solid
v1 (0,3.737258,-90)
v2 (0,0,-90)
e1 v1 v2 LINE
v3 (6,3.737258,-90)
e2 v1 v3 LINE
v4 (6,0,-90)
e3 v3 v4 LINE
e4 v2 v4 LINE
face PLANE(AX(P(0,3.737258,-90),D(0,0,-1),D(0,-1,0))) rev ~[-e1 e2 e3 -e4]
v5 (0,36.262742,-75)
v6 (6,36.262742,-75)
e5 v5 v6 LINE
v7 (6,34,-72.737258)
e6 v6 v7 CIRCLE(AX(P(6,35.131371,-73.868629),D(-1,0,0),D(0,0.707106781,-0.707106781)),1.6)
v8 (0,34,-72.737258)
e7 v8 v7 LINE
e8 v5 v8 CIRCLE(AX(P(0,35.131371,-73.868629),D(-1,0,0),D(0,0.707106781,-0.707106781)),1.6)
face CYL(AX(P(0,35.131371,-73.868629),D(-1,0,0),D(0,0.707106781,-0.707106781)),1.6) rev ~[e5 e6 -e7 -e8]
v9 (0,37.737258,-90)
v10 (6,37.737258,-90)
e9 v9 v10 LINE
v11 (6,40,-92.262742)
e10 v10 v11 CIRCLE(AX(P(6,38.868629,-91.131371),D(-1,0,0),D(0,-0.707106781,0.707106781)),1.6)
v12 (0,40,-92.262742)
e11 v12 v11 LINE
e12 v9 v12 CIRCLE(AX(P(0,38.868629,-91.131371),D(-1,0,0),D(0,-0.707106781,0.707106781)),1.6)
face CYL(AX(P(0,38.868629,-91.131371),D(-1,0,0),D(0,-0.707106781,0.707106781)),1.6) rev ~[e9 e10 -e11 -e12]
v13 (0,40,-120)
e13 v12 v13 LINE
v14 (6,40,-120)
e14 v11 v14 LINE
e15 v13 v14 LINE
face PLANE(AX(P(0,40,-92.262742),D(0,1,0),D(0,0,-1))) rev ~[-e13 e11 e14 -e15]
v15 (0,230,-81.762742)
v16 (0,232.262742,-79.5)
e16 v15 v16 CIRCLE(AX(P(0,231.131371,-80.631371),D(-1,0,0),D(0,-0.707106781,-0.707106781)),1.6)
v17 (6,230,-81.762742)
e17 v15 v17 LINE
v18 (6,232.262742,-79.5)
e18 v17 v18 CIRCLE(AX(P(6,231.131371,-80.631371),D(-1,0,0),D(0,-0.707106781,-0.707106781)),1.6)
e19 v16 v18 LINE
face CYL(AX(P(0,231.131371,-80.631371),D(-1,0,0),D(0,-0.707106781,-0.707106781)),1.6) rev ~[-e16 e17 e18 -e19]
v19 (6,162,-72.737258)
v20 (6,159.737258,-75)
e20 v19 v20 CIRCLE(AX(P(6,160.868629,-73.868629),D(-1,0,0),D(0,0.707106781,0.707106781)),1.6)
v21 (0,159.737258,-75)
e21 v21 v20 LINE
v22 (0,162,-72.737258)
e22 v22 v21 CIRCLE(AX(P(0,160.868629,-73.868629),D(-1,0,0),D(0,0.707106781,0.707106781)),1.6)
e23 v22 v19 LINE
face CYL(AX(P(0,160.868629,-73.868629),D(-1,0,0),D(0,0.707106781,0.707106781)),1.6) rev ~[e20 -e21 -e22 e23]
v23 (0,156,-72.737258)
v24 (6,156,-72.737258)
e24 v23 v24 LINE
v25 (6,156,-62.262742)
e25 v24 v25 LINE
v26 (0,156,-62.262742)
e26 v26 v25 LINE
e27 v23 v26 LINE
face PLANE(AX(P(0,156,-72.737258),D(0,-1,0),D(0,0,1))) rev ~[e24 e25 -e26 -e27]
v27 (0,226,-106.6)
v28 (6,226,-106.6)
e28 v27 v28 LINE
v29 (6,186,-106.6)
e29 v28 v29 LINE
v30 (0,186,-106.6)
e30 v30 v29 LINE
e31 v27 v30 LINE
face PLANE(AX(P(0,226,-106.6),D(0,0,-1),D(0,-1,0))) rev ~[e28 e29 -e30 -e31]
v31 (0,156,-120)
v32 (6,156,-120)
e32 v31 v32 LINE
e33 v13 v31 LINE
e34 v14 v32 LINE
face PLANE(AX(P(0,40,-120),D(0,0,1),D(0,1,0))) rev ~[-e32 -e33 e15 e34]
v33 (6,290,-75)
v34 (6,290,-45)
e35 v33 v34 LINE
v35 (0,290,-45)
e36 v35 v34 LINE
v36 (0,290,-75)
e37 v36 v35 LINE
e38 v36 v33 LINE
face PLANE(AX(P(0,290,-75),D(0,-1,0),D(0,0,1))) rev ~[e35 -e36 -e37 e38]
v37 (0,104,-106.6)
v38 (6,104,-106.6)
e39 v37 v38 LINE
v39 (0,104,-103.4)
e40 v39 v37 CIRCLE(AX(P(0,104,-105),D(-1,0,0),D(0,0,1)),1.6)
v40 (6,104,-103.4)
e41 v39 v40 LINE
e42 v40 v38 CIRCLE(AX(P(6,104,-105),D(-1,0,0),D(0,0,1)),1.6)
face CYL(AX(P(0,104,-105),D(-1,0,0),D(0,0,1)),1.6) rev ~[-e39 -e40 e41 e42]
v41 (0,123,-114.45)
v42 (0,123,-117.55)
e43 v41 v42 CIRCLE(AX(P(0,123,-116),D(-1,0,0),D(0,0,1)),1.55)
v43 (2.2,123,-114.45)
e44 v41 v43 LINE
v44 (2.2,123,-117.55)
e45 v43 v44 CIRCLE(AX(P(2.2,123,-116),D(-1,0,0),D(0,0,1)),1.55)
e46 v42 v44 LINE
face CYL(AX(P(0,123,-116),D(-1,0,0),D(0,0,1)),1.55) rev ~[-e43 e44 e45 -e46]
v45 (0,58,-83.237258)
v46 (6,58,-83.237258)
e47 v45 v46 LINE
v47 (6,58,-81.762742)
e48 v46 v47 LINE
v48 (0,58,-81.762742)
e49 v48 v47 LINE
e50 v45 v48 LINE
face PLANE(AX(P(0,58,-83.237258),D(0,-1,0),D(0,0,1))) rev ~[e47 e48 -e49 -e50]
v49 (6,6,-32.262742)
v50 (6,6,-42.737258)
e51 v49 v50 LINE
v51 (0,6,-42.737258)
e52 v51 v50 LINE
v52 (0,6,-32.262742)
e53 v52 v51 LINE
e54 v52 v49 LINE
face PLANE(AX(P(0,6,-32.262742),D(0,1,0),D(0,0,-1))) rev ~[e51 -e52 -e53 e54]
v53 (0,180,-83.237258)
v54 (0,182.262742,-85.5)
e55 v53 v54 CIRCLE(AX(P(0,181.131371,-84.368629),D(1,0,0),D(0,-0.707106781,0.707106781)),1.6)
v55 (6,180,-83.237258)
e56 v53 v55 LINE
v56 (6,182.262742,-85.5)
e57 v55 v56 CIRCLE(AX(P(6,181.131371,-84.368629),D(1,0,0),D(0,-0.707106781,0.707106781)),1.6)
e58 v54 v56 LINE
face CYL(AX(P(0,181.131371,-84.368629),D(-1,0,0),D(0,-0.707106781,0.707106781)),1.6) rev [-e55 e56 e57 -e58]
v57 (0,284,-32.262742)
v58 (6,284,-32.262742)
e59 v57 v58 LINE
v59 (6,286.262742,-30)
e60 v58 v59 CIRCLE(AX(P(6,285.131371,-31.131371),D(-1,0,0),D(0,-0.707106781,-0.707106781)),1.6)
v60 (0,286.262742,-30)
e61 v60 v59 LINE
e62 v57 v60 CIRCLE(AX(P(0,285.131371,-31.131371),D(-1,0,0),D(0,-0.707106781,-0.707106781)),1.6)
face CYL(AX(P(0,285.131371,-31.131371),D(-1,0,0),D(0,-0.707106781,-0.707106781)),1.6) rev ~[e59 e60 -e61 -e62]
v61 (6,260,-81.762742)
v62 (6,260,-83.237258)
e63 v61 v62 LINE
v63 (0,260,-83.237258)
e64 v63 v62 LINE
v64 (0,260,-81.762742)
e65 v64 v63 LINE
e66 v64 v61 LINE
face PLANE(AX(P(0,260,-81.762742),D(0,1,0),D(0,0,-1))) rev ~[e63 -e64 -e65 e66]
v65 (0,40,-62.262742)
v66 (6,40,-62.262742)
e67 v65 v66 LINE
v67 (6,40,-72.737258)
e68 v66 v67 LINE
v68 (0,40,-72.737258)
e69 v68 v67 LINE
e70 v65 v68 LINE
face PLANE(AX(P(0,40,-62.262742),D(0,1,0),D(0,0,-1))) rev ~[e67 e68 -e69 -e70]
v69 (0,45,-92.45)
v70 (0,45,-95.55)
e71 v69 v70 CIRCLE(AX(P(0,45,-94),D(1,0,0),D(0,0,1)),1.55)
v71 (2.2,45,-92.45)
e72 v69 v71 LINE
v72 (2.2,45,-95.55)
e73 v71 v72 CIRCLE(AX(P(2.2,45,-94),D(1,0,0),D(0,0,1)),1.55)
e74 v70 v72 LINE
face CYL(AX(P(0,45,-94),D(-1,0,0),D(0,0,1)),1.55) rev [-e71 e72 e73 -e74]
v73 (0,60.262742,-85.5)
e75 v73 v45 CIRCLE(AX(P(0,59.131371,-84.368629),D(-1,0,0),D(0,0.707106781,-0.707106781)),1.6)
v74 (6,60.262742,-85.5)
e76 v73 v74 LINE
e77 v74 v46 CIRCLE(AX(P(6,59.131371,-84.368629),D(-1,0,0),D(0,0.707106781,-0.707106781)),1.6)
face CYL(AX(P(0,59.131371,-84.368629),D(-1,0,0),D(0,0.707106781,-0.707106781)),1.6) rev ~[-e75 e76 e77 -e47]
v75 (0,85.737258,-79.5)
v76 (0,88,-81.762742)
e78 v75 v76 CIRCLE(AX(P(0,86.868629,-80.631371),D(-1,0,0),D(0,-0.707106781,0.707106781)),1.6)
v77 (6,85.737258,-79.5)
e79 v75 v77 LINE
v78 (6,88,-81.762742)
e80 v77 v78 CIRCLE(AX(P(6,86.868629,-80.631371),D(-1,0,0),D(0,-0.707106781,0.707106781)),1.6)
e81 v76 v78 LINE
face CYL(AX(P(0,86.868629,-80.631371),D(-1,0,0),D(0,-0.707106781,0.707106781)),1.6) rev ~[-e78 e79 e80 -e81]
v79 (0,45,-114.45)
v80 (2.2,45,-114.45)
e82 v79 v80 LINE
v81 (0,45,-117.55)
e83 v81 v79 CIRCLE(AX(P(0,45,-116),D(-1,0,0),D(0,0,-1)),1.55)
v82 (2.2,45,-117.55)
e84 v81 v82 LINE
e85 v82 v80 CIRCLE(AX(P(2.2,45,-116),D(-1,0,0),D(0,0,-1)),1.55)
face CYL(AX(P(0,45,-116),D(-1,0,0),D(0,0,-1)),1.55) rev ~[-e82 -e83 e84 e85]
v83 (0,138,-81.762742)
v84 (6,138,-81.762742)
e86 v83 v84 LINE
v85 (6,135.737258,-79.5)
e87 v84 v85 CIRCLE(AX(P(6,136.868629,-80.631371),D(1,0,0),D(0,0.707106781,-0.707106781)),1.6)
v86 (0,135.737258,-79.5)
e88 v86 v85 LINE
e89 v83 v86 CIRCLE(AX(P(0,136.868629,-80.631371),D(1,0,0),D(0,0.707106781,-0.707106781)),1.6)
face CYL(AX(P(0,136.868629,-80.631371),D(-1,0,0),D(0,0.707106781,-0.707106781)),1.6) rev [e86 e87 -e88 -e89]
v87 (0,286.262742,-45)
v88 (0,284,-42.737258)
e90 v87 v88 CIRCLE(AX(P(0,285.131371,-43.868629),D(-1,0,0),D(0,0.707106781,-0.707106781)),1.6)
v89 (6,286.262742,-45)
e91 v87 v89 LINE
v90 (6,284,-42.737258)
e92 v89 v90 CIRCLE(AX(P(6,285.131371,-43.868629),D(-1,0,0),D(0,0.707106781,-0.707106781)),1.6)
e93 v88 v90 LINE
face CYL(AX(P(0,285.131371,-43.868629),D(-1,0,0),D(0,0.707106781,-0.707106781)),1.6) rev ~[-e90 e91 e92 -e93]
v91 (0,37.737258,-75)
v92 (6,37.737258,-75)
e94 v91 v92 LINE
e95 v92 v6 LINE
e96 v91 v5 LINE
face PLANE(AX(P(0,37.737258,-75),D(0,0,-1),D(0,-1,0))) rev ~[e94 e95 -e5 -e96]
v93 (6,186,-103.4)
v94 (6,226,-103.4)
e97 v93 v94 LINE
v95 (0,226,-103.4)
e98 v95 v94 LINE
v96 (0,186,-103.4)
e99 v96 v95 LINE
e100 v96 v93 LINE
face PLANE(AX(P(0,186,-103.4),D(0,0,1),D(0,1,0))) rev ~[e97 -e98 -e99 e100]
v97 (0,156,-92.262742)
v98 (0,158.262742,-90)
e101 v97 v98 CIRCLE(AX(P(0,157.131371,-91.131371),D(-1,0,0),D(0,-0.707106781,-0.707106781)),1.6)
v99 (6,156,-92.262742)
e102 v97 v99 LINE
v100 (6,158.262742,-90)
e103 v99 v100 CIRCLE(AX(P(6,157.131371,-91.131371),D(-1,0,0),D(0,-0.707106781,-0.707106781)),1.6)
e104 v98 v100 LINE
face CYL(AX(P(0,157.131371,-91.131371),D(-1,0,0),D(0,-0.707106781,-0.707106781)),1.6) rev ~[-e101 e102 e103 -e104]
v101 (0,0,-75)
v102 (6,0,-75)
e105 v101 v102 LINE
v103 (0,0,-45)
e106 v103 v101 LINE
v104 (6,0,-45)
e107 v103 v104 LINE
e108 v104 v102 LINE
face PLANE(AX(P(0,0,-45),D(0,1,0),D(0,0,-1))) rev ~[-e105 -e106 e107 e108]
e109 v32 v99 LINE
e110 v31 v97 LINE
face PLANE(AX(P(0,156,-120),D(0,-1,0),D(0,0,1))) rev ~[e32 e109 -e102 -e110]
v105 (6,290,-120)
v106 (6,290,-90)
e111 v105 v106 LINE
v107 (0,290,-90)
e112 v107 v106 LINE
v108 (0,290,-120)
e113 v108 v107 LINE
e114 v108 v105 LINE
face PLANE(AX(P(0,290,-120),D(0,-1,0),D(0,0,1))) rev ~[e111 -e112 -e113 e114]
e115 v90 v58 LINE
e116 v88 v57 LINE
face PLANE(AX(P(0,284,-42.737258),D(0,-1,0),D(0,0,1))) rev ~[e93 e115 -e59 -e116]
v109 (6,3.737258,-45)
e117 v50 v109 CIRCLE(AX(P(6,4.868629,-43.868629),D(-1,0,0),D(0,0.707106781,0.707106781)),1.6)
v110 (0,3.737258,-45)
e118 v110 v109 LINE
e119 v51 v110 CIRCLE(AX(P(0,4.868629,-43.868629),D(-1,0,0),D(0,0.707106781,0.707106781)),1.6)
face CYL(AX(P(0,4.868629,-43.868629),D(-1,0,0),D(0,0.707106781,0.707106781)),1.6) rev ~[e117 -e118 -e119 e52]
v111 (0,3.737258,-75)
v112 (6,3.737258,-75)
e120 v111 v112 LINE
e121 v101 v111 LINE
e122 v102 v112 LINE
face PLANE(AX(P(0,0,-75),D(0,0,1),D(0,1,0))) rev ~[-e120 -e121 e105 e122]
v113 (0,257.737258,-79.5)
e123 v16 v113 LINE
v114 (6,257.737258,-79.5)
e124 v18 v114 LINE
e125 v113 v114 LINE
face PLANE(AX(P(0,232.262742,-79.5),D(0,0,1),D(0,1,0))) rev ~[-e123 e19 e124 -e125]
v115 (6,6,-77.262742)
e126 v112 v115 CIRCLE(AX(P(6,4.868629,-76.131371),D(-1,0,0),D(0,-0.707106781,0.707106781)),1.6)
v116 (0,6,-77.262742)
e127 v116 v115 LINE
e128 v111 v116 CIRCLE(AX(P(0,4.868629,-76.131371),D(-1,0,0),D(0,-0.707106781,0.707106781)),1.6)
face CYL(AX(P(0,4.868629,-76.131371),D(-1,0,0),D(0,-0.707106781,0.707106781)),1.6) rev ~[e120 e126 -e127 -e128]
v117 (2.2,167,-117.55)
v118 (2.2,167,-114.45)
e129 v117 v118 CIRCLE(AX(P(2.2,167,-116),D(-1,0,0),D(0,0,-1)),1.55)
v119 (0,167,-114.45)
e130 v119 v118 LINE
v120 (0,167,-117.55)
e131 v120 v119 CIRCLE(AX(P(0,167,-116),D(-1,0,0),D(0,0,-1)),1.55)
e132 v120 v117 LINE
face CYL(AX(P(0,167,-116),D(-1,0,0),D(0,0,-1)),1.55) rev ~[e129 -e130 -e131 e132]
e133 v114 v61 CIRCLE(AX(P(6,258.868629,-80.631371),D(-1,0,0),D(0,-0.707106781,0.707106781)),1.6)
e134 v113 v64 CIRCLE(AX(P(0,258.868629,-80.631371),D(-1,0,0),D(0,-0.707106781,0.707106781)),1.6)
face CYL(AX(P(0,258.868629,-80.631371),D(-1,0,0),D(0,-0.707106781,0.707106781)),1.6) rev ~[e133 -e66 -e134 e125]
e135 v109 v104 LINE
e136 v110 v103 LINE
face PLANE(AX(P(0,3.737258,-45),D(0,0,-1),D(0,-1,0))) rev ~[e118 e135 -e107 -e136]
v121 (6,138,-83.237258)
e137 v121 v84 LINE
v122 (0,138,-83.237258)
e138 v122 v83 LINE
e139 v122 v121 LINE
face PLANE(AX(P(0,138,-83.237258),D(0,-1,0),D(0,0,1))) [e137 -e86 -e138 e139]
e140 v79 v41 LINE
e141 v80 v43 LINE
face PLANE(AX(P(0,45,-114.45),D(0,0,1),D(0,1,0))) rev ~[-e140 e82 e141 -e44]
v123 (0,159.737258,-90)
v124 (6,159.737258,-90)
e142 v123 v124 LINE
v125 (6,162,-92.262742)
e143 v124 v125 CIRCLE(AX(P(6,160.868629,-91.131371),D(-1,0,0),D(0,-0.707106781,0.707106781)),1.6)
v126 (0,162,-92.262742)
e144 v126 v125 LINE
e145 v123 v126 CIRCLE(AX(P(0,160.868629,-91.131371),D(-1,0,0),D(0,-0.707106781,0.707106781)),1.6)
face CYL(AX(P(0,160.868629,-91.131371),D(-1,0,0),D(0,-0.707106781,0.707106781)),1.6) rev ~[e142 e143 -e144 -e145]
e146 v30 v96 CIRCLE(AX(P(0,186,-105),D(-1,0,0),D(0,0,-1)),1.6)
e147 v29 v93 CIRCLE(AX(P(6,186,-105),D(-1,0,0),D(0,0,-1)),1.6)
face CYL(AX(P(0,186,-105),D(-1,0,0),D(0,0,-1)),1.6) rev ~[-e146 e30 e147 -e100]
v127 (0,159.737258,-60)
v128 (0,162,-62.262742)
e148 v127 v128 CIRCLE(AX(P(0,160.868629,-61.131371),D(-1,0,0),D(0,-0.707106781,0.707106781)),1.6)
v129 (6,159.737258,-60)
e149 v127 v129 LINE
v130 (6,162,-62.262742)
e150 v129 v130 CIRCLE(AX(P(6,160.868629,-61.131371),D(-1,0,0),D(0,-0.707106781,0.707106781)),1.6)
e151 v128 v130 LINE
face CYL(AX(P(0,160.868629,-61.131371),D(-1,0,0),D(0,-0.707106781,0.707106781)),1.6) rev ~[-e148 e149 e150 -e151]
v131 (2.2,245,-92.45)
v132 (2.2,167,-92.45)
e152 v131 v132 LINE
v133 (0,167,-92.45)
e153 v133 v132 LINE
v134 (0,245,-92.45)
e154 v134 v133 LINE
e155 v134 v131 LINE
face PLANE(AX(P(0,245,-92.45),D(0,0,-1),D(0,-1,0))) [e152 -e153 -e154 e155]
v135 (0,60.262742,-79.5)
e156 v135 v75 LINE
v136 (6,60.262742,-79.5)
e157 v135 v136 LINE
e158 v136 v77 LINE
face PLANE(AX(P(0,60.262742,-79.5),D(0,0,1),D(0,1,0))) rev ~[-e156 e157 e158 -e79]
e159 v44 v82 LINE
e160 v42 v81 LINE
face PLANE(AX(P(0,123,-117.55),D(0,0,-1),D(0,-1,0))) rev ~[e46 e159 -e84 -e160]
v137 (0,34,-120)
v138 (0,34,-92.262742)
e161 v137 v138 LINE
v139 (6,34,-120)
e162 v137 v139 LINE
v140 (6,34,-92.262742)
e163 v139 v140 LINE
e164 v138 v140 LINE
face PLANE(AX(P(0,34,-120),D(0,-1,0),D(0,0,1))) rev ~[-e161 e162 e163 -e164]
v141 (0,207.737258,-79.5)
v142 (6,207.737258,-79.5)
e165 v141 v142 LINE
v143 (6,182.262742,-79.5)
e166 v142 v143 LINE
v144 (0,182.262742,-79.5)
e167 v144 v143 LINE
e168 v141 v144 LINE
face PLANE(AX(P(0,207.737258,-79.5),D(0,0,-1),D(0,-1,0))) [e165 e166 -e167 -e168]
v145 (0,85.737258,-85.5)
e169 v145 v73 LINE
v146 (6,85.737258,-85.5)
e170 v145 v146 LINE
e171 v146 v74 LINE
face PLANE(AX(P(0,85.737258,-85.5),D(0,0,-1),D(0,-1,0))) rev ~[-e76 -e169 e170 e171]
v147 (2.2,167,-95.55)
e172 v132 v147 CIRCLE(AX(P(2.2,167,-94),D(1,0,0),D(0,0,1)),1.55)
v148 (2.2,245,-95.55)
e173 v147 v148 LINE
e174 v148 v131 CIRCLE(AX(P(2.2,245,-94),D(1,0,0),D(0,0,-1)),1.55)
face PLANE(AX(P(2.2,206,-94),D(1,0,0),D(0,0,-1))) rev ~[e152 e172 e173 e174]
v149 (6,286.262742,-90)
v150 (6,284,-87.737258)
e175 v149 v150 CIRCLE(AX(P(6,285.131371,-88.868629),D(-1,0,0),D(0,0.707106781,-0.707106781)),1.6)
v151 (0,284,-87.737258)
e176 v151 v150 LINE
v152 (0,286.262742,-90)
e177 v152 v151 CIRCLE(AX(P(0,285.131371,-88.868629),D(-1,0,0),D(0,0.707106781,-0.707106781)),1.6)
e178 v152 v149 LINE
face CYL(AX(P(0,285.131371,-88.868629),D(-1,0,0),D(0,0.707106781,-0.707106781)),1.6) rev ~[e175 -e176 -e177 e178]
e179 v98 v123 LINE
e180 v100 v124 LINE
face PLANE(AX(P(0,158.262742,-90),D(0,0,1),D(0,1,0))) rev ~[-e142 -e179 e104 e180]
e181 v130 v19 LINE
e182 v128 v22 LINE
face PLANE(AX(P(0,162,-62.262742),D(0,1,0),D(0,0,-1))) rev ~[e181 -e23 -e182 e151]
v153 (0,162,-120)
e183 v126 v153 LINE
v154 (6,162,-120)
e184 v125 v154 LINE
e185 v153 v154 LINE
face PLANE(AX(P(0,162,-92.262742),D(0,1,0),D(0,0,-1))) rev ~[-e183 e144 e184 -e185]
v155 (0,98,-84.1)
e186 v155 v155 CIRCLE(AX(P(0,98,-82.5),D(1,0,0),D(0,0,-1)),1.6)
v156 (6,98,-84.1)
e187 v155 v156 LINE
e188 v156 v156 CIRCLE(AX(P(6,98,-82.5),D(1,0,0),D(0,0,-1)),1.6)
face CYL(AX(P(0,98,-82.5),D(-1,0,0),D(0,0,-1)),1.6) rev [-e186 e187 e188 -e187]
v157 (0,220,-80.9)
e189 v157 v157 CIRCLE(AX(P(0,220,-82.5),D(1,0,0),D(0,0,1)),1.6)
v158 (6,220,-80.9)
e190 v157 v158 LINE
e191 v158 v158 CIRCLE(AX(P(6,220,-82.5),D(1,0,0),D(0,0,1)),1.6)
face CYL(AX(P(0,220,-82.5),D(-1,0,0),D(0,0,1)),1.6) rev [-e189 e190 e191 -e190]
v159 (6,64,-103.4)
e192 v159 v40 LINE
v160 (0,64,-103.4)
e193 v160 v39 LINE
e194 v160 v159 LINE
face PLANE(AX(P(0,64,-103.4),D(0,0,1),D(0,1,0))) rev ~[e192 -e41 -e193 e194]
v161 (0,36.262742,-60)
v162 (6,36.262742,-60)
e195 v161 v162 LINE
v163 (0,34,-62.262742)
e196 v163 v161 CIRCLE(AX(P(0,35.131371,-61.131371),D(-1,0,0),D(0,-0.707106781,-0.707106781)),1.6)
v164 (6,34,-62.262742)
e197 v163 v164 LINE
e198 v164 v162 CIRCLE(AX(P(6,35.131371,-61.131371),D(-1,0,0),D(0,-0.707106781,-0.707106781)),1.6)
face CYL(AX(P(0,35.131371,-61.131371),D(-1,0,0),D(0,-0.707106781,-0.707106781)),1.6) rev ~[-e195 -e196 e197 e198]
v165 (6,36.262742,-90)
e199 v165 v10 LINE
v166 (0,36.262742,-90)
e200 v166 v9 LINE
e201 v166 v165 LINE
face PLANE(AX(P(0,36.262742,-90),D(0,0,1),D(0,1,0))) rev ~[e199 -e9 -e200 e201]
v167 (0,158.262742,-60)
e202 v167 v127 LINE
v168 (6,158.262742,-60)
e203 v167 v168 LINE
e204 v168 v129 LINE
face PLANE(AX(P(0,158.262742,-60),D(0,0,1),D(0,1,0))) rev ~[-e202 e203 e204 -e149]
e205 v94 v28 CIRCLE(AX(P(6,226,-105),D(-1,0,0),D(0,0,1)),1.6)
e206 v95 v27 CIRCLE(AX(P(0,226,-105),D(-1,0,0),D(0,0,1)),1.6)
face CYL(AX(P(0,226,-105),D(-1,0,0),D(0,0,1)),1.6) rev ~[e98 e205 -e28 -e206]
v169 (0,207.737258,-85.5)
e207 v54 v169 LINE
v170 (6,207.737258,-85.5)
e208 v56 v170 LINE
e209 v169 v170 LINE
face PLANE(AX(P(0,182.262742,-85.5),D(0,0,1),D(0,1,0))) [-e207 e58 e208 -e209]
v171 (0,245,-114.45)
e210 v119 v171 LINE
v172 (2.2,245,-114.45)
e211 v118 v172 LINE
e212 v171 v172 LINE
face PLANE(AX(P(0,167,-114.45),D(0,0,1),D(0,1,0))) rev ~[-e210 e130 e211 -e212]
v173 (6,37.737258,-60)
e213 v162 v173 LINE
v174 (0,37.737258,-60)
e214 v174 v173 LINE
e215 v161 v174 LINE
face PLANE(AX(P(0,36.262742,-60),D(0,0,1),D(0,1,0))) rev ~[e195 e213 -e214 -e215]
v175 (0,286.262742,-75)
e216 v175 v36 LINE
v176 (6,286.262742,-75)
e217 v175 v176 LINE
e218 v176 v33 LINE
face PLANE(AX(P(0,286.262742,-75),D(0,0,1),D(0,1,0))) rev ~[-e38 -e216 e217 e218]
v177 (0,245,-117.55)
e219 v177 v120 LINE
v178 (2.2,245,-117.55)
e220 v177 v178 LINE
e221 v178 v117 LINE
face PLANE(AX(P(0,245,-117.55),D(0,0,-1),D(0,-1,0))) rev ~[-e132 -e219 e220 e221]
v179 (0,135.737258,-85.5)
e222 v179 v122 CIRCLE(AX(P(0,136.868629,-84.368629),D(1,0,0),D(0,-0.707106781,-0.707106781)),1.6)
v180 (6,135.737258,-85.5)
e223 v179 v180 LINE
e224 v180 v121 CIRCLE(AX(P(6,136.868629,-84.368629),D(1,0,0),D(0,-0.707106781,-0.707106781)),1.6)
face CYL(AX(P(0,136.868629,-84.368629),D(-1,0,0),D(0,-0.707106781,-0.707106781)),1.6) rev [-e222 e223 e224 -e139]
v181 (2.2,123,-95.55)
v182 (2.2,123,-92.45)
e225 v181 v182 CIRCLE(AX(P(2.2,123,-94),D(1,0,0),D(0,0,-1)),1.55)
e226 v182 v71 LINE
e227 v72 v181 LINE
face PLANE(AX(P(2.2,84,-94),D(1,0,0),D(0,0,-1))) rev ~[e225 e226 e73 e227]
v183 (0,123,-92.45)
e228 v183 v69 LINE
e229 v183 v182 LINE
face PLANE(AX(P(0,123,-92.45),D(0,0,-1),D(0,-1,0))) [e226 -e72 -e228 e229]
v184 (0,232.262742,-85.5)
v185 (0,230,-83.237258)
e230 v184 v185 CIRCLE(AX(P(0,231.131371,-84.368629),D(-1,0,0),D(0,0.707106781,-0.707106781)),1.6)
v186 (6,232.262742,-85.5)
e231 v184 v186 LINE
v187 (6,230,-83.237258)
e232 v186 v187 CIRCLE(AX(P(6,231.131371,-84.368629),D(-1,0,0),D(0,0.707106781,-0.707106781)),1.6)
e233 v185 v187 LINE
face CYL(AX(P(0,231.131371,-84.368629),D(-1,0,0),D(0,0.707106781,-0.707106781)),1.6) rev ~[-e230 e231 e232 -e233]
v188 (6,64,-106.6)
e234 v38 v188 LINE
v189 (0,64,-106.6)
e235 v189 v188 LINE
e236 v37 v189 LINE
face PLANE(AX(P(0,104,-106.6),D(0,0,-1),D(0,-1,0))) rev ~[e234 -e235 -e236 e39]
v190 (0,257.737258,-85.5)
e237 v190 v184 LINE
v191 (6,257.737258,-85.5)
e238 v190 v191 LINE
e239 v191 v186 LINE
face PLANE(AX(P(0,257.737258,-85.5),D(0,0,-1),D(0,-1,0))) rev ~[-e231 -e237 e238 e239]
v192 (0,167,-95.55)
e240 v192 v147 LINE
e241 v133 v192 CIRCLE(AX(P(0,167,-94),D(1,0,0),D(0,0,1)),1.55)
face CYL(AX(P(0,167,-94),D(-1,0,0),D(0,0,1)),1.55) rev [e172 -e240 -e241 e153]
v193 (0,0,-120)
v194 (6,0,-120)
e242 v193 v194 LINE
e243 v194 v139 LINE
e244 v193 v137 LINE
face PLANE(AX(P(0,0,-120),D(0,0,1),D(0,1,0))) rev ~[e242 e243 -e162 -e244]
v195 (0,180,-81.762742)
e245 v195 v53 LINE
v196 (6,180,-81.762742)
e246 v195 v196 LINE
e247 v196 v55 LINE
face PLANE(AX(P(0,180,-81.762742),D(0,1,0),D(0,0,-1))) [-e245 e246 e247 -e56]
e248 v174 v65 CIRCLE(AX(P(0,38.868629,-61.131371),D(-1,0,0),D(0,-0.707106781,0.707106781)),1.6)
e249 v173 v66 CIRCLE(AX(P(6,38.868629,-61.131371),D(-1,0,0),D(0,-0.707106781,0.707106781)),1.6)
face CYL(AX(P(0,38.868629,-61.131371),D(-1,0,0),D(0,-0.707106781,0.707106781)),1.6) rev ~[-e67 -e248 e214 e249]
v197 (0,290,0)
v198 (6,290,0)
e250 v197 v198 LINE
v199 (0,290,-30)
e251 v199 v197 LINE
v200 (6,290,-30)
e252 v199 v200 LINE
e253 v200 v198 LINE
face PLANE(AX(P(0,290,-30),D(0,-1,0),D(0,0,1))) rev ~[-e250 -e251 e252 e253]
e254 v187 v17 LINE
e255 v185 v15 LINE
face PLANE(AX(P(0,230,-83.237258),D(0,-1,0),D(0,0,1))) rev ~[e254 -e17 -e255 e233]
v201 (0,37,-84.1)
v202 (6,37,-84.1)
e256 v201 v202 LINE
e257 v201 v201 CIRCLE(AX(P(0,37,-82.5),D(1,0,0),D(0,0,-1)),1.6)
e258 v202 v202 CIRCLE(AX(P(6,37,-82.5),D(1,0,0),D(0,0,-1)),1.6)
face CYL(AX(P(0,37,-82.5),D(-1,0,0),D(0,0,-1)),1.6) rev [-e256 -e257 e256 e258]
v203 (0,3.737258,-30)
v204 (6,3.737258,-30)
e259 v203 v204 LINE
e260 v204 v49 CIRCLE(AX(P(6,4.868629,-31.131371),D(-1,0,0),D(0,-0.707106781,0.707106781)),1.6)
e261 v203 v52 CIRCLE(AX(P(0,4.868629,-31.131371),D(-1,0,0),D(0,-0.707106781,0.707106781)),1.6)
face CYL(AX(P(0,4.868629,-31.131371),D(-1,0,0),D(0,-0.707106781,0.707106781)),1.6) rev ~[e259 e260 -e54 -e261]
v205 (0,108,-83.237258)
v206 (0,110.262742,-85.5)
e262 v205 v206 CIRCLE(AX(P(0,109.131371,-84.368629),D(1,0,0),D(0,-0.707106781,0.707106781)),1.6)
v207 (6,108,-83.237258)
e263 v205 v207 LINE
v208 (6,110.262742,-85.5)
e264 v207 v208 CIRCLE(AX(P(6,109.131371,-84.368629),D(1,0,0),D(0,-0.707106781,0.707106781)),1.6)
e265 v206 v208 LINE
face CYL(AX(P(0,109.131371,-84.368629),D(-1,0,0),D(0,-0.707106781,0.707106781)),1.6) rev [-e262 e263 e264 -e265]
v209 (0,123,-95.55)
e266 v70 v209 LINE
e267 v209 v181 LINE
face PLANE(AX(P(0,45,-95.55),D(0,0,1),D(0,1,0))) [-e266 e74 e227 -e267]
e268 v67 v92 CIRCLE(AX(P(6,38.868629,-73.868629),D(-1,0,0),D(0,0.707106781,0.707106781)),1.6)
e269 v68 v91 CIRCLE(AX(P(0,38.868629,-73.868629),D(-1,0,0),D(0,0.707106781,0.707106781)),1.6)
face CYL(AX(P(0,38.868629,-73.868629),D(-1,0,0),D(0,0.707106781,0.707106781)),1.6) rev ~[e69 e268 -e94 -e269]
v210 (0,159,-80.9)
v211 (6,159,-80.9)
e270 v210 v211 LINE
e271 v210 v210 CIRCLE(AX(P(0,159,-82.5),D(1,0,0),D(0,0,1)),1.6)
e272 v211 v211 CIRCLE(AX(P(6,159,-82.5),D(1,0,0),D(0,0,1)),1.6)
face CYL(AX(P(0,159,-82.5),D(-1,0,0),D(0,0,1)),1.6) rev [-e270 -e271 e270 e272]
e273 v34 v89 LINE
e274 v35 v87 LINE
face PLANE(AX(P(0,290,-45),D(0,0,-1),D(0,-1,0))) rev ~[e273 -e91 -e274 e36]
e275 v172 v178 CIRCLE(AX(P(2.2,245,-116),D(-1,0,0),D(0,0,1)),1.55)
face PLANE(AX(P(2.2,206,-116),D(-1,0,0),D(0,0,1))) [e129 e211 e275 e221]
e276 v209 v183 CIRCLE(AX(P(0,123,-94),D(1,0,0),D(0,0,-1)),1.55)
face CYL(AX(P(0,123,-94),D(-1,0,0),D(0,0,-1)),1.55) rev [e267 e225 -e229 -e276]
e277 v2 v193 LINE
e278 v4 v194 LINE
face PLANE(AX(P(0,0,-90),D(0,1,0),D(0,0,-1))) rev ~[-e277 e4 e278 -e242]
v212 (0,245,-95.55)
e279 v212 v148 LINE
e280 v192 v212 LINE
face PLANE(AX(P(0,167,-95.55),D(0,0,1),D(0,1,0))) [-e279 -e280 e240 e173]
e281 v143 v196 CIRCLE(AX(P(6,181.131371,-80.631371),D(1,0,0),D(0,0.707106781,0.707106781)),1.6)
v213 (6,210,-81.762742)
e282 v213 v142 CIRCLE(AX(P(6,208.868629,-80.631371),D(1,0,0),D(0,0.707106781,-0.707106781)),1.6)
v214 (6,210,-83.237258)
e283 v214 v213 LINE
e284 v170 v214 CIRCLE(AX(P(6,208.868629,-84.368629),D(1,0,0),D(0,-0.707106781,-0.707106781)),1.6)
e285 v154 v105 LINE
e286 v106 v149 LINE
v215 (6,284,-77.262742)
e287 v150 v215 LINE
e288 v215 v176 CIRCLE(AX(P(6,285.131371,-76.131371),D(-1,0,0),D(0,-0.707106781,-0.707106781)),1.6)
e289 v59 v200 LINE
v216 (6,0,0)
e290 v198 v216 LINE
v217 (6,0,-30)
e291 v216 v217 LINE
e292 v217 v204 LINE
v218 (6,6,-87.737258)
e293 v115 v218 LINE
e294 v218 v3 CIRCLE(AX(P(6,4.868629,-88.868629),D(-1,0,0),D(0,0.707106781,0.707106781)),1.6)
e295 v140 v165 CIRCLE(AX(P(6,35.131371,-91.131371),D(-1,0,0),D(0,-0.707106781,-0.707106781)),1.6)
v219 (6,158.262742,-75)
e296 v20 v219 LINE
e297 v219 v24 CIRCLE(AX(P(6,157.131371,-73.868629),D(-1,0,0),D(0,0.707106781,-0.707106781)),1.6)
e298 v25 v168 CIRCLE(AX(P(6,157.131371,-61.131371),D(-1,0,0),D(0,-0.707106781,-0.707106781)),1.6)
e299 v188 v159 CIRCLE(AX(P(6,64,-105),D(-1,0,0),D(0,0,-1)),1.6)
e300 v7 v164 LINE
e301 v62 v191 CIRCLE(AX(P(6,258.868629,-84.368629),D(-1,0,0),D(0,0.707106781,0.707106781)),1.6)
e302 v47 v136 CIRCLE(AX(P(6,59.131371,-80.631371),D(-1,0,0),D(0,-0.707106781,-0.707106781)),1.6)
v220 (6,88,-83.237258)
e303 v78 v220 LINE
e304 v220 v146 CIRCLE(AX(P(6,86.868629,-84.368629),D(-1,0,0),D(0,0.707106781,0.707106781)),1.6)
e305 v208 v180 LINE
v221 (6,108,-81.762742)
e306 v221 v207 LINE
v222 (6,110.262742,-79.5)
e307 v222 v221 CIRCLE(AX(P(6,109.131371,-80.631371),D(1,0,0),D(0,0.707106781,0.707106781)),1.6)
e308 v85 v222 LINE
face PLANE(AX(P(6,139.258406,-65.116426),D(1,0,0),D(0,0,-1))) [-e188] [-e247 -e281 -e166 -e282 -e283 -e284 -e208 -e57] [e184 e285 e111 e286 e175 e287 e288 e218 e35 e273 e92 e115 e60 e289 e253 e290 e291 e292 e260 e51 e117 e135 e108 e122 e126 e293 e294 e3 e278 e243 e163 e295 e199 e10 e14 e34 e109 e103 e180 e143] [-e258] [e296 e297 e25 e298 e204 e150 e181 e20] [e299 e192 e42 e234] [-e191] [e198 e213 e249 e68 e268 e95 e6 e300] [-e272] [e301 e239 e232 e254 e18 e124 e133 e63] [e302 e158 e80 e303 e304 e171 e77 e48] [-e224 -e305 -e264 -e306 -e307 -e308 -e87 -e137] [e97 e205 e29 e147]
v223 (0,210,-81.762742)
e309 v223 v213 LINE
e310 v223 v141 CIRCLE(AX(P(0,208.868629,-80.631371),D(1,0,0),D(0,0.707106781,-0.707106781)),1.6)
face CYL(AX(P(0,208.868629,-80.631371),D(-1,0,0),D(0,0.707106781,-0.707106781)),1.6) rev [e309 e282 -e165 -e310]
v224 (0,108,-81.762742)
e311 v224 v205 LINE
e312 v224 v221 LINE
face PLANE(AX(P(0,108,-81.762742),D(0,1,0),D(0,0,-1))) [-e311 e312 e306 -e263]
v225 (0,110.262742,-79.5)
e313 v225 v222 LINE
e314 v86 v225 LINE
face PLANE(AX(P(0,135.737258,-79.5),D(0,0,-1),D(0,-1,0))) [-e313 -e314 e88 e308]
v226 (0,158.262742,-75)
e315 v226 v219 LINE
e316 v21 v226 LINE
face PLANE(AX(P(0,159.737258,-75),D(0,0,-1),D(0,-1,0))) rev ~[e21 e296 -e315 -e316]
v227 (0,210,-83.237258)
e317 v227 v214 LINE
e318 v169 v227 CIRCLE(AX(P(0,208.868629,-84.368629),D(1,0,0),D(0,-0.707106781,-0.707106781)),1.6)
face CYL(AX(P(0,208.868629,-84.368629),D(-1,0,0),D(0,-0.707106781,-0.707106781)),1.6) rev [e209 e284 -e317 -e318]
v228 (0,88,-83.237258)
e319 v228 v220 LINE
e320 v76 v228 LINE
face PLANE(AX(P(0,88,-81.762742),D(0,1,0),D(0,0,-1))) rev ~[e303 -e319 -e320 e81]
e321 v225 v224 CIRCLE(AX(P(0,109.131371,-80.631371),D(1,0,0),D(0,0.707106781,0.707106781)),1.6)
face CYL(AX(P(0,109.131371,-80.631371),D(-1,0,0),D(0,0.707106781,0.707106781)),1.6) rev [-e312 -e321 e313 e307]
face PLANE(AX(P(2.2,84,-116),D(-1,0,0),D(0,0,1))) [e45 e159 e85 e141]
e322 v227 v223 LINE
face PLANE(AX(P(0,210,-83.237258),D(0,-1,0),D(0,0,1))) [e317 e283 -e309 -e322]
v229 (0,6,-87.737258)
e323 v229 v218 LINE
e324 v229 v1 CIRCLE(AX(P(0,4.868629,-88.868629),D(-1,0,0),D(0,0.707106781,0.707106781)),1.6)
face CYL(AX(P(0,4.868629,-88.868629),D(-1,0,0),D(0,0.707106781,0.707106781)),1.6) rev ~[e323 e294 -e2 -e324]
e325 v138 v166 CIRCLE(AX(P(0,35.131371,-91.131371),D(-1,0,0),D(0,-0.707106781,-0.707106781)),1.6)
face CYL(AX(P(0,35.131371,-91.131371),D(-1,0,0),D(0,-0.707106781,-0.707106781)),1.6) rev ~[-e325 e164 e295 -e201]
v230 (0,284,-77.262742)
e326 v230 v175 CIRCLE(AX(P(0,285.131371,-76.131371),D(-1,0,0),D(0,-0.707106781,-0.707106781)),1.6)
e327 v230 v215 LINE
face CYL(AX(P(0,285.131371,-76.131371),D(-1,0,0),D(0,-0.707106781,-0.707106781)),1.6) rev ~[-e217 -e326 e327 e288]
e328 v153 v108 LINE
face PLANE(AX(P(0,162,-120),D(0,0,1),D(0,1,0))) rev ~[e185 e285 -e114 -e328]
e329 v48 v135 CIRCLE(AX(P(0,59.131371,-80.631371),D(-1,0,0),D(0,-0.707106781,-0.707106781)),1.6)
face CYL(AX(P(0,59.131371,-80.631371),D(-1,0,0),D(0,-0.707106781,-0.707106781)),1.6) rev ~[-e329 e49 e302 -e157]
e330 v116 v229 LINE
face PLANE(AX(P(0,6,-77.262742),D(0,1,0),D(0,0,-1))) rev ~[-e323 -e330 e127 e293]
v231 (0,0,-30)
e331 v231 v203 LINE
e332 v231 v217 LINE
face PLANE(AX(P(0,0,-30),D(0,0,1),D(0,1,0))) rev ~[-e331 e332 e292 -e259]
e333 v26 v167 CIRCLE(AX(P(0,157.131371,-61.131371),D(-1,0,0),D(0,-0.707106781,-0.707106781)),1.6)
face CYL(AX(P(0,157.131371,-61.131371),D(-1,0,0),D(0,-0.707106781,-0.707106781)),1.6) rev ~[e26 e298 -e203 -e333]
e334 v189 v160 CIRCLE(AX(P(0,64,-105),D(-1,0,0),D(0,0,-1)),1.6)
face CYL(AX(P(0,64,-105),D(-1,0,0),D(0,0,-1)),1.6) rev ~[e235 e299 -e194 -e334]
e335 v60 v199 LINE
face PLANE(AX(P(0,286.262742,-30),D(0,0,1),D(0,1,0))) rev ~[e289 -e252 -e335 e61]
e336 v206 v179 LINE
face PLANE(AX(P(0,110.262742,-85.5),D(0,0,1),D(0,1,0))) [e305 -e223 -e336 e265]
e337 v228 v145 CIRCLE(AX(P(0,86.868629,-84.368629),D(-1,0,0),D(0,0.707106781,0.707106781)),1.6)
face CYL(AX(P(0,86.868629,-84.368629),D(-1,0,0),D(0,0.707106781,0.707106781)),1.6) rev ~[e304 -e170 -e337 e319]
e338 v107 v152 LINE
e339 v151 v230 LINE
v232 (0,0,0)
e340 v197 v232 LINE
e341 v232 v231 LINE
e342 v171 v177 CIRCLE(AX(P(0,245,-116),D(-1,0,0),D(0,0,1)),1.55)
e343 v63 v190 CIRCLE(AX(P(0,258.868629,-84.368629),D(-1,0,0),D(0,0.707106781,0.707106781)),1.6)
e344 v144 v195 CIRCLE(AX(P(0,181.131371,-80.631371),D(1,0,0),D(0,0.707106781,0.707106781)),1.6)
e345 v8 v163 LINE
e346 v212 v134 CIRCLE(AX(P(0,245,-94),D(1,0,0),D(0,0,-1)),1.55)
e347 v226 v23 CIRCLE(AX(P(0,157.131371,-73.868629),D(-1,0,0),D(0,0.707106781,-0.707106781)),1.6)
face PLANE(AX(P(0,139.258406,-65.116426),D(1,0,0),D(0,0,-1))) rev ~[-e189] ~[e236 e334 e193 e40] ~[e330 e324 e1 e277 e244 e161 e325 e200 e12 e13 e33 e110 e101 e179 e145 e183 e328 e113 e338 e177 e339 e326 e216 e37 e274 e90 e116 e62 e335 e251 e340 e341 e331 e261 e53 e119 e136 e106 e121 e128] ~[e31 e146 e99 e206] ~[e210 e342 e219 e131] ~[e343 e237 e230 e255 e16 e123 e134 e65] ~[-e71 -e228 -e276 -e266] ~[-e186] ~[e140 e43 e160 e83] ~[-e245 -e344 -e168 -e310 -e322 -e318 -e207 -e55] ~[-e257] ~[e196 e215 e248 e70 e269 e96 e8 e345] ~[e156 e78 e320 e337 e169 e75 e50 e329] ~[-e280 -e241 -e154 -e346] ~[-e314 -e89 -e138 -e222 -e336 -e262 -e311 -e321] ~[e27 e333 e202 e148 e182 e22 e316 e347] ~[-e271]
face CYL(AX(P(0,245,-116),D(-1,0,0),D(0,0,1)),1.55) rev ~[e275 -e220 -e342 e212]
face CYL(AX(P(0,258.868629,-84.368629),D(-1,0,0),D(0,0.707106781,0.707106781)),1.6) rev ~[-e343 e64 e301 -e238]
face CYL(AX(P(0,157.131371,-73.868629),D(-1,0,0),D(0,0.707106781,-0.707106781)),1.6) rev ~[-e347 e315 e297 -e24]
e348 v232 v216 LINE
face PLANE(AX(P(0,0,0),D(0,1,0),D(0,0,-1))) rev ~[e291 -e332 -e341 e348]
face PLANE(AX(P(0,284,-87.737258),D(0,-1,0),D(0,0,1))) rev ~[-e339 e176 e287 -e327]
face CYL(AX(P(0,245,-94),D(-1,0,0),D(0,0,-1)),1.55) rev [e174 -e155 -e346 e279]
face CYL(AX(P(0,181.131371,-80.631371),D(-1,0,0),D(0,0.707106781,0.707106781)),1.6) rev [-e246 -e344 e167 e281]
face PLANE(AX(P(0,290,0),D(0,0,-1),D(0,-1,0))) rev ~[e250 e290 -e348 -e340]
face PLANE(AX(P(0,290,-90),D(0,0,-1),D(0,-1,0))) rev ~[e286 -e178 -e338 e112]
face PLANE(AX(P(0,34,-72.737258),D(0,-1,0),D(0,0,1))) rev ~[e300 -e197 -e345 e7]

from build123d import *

# Parameters (mm, degrees)
ESQUISSE1_R             = 1.6
EXTRUSION1_DEPTH        = 6
ENL_V_MAT_EXTRU_1_DEPTH = 2.2


with BuildPart() as part:
    # Esquisse1 → Extrusion1 (new body)
    with BuildSketch(Plane(origin=(0, 0, 0), x_dir=(0, 0, -1), z_dir=(1, 0, 0))):
        with BuildLine():
            Line((32.2627417, 6), (42.7372583, 6))
            ThreePointArc((42.7372583, 6), (45, 6), (45, 3.7372583))
            Line((45, 3.7372583), (45, 0))
            Line((45, 0), (75, 0))
            Line((75, 0), (75, 3.7372583))
            ThreePointArc((75, 3.7372583), (75, 6), (77.2627417, 6))
            Line((77.2627417, 6), (87.7372583, 6))
            ThreePointArc((87.7372583, 6), (90, 6), (90, 3.7372583))
            Line((90, 3.7372583), (90, 0))
            Line((90, 0), (120, 0))
            Line((120, 0), (120, 34))
            Line((120, 34), (92.2627417, 34))
            ThreePointArc((92.2627417, 34), (90, 34), (90, 36.2627417))
            Line((90, 36.2627417), (90, 37.7372583))
            ThreePointArc((90, 37.7372583), (90, 40), (92.2627417, 40))
            Line((92.2627417, 40), (120, 40))
            Line((120, 40), (120, 156))
            Line((120, 156), (92.2627417, 156))
            ThreePointArc((92.2627417, 156), (90, 156), (90, 158.2627417))
            Line((90, 158.2627417), (90, 159.7372583))
            ThreePointArc((90, 159.7372583), (90, 162), (92.2627417, 162))
            Line((92.2627417, 162), (120, 162))
            Line((120, 162), (120, 290))
            Line((120, 290), (90, 290))
            Line((90, 290), (90, 286.2627417))
            ThreePointArc((90, 286.2627417), (90, 284), (87.7372583, 284))
            Line((87.7372583, 284), (77.2627417, 284))
            ThreePointArc((77.2627417, 284), (75, 284), (75, 286.2627417))
            Line((75, 286.2627417), (75, 290))
            Line((75, 290), (45, 290))
            Line((45, 290), (45, 286.2627417))
            ThreePointArc((45, 286.2627417), (45, 284), (42.7372583, 284))
            Line((42.7372583, 284), (32.2627417, 284))
            ThreePointArc((32.2627417, 284), (30, 284), (30, 286.2627417))
            Line((30, 286.2627417), (30, 290))
            Line((30, 290), (0, 290))
            Line((0, 290), (0, 0))
            Line((0, 0), (30, 0))
            Line((30, 0), (30, 3.7372583))
            ThreePointArc((30, 3.7372583), (30, 6), (32.2627417, 6))
        make_face()
        with Locations((82.5, 37)):
            Circle(ESQUISSE1_R, mode=Mode.SUBTRACT)
        with Locations(Location((82.5, 159, 0), (0, 0, 180))):  # turned: the seam where the file's is
            Circle(ESQUISSE1_R, mode=Mode.SUBTRACT)
        with Locations((82.5, 98)):
            Circle(ESQUISSE1_R, mode=Mode.SUBTRACT)
        with Locations(Location((82.5, 220, 0), (0, 0, 180))):  # turned: the seam where the file's is
            Circle(ESQUISSE1_R, mode=Mode.SUBTRACT)
        with BuildLine():
            Line((75, 37.7372583), (75, 36.2627417))
            ThreePointArc((75, 36.2627417), (75, 34), (72.7372583, 34))
            Line((72.7372583, 34), (62.2627417, 34))
            ThreePointArc((62.2627417, 34), (60, 34), (60, 36.2627417))
            Line((60, 36.2627417), (60, 37.7372583))
            ThreePointArc((60, 37.7372583), (60, 40), (62.2627417, 40))
            Line((62.2627417, 40), (72.7372583, 40))
            ThreePointArc((72.7372583, 40), (75, 40), (75, 37.7372583))
        make_face(mode=Mode.SUBTRACT)
        with BuildLine():
            Line((60, 158.2627417), (60, 159.7372583))
            ThreePointArc((60, 159.7372583), (60, 162), (62.2627417, 162))
            Line((62.2627417, 162), (72.7372583, 162))
            ThreePointArc((72.7372583, 162), (75, 162), (75, 159.7372583))
            Line((75, 159.7372583), (75, 158.2627417))
            ThreePointArc((75, 158.2627417), (75, 156), (72.7372583, 156))
            Line((72.7372583, 156), (62.2627417, 156))
            ThreePointArc((62.2627417, 156), (60, 156), (60, 158.2627417))
        make_face(mode=Mode.SUBTRACT)
        with BuildLine():
            Line((83.2372583, 138), (81.7627417, 138))
            ThreePointArc((81.7627417, 138), (79.5, 138), (79.5, 135.7372583))
            Line((79.5, 135.7372583), (79.5, 110.2627417))
            ThreePointArc((79.5, 110.2627417), (79.5, 108), (81.7627417, 108))
            Line((81.7627417, 108), (83.2372583, 108))
            ThreePointArc((83.2372583, 108), (85.5, 108), (85.5, 110.2627417))
            Line((85.5, 110.2627417), (85.5, 135.7372583))
            ThreePointArc((85.5, 135.7372583), (85.5, 138), (83.2372583, 138))
        make_face(mode=Mode.SUBTRACT)
        with BuildLine():
            Line((83.2372583, 58), (81.7627417, 58))
            ThreePointArc((81.7627417, 58), (79.5, 58), (79.5, 60.2627417))
            Line((79.5, 60.2627417), (79.5, 85.7372583))
            ThreePointArc((79.5, 85.7372583), (79.5, 88), (81.7627417, 88))
            Line((81.7627417, 88), (83.2372583, 88))
            ThreePointArc((83.2372583, 88), (85.5, 88), (85.5, 85.7372583))
            Line((85.5, 85.7372583), (85.5, 60.2627417))
            ThreePointArc((85.5, 60.2627417), (85.5, 58), (83.2372583, 58))
        make_face(mode=Mode.SUBTRACT)
        with BuildLine():
            Line((85.5, 257.7372583), (85.5, 232.2627417))
            ThreePointArc((85.5, 232.2627417), (85.5, 230), (83.2372583, 230))
            Line((83.2372583, 230), (81.7627417, 230))
            ThreePointArc((81.7627417, 230), (79.5, 230), (79.5, 232.2627417))
            Line((79.5, 232.2627417), (79.5, 257.7372583))
            ThreePointArc((79.5, 257.7372583), (79.5, 260), (81.7627417, 260))
            Line((81.7627417, 260), (83.2372583, 260))
            ThreePointArc((83.2372583, 260), (85.5, 260), (85.5, 257.7372583))
        make_face(mode=Mode.SUBTRACT)
        with BuildLine():
            Line((83.2372583, 210), (81.7627417, 210))
            ThreePointArc((81.7627417, 210), (79.5, 210), (79.5, 207.7372583))
            Line((79.5, 207.7372583), (79.5, 182.2627417))
            ThreePointArc((79.5, 182.2627417), (79.5, 180), (81.7627417, 180))
            Line((81.7627417, 180), (83.2372583, 180))
            ThreePointArc((83.2372583, 180), (85.5, 180), (85.5, 182.2627417))
            Line((85.5, 182.2627417), (85.5, 207.7372583))
            ThreePointArc((85.5, 207.7372583), (85.5, 210), (83.2372583, 210))
        make_face(mode=Mode.SUBTRACT)
        with BuildLine():
            Line((106.6, 104), (106.6, 64))
            ThreePointArc((106.6, 64), (105, 62.4), (103.4, 64))
            Line((103.4, 64), (103.4, 104))
            ThreePointArc((103.4, 104), (105, 105.6), (106.6, 104))
        make_face(mode=Mode.SUBTRACT)
        with BuildLine():
            Line((106.6, 226), (106.6, 186))
            ThreePointArc((106.6, 186), (105, 184.4), (103.4, 186))
            Line((103.4, 186), (103.4, 226))
            ThreePointArc((103.4, 226), (105, 227.6), (106.6, 226))
        make_face(mode=Mode.SUBTRACT)
    extrude(amount=EXTRUSION1_DEPTH)

    # Esquisse2 → Enlèv. mat.-Extru.1 (cut)
    with BuildSketch(Plane.ZY):
        with BuildLine():
            Line((-117.55, 123), (-117.55, 45))
            ThreePointArc((-117.55, 45), (-116, 43.45), (-114.45, 45))
            Line((-114.45, 45), (-114.45, 123))
            ThreePointArc((-114.45, 123), (-116, 124.55), (-117.55, 123))
        make_face()
        with BuildLine():
            Line((-95.55, 45), (-95.55, 123))
            ThreePointArc((-95.55, 123), (-94, 124.55), (-92.45, 123))
            Line((-92.45, 123), (-92.45, 45))
            ThreePointArc((-92.45, 45), (-94, 43.45), (-95.55, 45))
        make_face()
        with BuildLine():
            Line((-117.55, 245), (-117.55, 167))
            ThreePointArc((-117.55, 167), (-116, 165.45), (-114.45, 167))
            Line((-114.45, 167), (-114.45, 245))
            ThreePointArc((-114.45, 245), (-116, 246.55), (-117.55, 245))
        make_face()
        with BuildLine():
            Line((-95.55, 167), (-95.55, 245))
            ThreePointArc((-95.55, 245), (-94, 246.55), (-92.45, 245))
            Line((-92.45, 245), (-92.45, 167))
            ThreePointArc((-92.45, 167), (-94, 165.45), (-95.55, 167))
        make_face()
    extrude(amount=-ENL_V_MAT_EXTRU_1_DEPTH, mode=Mode.SUBTRACT)


solid = part.part
